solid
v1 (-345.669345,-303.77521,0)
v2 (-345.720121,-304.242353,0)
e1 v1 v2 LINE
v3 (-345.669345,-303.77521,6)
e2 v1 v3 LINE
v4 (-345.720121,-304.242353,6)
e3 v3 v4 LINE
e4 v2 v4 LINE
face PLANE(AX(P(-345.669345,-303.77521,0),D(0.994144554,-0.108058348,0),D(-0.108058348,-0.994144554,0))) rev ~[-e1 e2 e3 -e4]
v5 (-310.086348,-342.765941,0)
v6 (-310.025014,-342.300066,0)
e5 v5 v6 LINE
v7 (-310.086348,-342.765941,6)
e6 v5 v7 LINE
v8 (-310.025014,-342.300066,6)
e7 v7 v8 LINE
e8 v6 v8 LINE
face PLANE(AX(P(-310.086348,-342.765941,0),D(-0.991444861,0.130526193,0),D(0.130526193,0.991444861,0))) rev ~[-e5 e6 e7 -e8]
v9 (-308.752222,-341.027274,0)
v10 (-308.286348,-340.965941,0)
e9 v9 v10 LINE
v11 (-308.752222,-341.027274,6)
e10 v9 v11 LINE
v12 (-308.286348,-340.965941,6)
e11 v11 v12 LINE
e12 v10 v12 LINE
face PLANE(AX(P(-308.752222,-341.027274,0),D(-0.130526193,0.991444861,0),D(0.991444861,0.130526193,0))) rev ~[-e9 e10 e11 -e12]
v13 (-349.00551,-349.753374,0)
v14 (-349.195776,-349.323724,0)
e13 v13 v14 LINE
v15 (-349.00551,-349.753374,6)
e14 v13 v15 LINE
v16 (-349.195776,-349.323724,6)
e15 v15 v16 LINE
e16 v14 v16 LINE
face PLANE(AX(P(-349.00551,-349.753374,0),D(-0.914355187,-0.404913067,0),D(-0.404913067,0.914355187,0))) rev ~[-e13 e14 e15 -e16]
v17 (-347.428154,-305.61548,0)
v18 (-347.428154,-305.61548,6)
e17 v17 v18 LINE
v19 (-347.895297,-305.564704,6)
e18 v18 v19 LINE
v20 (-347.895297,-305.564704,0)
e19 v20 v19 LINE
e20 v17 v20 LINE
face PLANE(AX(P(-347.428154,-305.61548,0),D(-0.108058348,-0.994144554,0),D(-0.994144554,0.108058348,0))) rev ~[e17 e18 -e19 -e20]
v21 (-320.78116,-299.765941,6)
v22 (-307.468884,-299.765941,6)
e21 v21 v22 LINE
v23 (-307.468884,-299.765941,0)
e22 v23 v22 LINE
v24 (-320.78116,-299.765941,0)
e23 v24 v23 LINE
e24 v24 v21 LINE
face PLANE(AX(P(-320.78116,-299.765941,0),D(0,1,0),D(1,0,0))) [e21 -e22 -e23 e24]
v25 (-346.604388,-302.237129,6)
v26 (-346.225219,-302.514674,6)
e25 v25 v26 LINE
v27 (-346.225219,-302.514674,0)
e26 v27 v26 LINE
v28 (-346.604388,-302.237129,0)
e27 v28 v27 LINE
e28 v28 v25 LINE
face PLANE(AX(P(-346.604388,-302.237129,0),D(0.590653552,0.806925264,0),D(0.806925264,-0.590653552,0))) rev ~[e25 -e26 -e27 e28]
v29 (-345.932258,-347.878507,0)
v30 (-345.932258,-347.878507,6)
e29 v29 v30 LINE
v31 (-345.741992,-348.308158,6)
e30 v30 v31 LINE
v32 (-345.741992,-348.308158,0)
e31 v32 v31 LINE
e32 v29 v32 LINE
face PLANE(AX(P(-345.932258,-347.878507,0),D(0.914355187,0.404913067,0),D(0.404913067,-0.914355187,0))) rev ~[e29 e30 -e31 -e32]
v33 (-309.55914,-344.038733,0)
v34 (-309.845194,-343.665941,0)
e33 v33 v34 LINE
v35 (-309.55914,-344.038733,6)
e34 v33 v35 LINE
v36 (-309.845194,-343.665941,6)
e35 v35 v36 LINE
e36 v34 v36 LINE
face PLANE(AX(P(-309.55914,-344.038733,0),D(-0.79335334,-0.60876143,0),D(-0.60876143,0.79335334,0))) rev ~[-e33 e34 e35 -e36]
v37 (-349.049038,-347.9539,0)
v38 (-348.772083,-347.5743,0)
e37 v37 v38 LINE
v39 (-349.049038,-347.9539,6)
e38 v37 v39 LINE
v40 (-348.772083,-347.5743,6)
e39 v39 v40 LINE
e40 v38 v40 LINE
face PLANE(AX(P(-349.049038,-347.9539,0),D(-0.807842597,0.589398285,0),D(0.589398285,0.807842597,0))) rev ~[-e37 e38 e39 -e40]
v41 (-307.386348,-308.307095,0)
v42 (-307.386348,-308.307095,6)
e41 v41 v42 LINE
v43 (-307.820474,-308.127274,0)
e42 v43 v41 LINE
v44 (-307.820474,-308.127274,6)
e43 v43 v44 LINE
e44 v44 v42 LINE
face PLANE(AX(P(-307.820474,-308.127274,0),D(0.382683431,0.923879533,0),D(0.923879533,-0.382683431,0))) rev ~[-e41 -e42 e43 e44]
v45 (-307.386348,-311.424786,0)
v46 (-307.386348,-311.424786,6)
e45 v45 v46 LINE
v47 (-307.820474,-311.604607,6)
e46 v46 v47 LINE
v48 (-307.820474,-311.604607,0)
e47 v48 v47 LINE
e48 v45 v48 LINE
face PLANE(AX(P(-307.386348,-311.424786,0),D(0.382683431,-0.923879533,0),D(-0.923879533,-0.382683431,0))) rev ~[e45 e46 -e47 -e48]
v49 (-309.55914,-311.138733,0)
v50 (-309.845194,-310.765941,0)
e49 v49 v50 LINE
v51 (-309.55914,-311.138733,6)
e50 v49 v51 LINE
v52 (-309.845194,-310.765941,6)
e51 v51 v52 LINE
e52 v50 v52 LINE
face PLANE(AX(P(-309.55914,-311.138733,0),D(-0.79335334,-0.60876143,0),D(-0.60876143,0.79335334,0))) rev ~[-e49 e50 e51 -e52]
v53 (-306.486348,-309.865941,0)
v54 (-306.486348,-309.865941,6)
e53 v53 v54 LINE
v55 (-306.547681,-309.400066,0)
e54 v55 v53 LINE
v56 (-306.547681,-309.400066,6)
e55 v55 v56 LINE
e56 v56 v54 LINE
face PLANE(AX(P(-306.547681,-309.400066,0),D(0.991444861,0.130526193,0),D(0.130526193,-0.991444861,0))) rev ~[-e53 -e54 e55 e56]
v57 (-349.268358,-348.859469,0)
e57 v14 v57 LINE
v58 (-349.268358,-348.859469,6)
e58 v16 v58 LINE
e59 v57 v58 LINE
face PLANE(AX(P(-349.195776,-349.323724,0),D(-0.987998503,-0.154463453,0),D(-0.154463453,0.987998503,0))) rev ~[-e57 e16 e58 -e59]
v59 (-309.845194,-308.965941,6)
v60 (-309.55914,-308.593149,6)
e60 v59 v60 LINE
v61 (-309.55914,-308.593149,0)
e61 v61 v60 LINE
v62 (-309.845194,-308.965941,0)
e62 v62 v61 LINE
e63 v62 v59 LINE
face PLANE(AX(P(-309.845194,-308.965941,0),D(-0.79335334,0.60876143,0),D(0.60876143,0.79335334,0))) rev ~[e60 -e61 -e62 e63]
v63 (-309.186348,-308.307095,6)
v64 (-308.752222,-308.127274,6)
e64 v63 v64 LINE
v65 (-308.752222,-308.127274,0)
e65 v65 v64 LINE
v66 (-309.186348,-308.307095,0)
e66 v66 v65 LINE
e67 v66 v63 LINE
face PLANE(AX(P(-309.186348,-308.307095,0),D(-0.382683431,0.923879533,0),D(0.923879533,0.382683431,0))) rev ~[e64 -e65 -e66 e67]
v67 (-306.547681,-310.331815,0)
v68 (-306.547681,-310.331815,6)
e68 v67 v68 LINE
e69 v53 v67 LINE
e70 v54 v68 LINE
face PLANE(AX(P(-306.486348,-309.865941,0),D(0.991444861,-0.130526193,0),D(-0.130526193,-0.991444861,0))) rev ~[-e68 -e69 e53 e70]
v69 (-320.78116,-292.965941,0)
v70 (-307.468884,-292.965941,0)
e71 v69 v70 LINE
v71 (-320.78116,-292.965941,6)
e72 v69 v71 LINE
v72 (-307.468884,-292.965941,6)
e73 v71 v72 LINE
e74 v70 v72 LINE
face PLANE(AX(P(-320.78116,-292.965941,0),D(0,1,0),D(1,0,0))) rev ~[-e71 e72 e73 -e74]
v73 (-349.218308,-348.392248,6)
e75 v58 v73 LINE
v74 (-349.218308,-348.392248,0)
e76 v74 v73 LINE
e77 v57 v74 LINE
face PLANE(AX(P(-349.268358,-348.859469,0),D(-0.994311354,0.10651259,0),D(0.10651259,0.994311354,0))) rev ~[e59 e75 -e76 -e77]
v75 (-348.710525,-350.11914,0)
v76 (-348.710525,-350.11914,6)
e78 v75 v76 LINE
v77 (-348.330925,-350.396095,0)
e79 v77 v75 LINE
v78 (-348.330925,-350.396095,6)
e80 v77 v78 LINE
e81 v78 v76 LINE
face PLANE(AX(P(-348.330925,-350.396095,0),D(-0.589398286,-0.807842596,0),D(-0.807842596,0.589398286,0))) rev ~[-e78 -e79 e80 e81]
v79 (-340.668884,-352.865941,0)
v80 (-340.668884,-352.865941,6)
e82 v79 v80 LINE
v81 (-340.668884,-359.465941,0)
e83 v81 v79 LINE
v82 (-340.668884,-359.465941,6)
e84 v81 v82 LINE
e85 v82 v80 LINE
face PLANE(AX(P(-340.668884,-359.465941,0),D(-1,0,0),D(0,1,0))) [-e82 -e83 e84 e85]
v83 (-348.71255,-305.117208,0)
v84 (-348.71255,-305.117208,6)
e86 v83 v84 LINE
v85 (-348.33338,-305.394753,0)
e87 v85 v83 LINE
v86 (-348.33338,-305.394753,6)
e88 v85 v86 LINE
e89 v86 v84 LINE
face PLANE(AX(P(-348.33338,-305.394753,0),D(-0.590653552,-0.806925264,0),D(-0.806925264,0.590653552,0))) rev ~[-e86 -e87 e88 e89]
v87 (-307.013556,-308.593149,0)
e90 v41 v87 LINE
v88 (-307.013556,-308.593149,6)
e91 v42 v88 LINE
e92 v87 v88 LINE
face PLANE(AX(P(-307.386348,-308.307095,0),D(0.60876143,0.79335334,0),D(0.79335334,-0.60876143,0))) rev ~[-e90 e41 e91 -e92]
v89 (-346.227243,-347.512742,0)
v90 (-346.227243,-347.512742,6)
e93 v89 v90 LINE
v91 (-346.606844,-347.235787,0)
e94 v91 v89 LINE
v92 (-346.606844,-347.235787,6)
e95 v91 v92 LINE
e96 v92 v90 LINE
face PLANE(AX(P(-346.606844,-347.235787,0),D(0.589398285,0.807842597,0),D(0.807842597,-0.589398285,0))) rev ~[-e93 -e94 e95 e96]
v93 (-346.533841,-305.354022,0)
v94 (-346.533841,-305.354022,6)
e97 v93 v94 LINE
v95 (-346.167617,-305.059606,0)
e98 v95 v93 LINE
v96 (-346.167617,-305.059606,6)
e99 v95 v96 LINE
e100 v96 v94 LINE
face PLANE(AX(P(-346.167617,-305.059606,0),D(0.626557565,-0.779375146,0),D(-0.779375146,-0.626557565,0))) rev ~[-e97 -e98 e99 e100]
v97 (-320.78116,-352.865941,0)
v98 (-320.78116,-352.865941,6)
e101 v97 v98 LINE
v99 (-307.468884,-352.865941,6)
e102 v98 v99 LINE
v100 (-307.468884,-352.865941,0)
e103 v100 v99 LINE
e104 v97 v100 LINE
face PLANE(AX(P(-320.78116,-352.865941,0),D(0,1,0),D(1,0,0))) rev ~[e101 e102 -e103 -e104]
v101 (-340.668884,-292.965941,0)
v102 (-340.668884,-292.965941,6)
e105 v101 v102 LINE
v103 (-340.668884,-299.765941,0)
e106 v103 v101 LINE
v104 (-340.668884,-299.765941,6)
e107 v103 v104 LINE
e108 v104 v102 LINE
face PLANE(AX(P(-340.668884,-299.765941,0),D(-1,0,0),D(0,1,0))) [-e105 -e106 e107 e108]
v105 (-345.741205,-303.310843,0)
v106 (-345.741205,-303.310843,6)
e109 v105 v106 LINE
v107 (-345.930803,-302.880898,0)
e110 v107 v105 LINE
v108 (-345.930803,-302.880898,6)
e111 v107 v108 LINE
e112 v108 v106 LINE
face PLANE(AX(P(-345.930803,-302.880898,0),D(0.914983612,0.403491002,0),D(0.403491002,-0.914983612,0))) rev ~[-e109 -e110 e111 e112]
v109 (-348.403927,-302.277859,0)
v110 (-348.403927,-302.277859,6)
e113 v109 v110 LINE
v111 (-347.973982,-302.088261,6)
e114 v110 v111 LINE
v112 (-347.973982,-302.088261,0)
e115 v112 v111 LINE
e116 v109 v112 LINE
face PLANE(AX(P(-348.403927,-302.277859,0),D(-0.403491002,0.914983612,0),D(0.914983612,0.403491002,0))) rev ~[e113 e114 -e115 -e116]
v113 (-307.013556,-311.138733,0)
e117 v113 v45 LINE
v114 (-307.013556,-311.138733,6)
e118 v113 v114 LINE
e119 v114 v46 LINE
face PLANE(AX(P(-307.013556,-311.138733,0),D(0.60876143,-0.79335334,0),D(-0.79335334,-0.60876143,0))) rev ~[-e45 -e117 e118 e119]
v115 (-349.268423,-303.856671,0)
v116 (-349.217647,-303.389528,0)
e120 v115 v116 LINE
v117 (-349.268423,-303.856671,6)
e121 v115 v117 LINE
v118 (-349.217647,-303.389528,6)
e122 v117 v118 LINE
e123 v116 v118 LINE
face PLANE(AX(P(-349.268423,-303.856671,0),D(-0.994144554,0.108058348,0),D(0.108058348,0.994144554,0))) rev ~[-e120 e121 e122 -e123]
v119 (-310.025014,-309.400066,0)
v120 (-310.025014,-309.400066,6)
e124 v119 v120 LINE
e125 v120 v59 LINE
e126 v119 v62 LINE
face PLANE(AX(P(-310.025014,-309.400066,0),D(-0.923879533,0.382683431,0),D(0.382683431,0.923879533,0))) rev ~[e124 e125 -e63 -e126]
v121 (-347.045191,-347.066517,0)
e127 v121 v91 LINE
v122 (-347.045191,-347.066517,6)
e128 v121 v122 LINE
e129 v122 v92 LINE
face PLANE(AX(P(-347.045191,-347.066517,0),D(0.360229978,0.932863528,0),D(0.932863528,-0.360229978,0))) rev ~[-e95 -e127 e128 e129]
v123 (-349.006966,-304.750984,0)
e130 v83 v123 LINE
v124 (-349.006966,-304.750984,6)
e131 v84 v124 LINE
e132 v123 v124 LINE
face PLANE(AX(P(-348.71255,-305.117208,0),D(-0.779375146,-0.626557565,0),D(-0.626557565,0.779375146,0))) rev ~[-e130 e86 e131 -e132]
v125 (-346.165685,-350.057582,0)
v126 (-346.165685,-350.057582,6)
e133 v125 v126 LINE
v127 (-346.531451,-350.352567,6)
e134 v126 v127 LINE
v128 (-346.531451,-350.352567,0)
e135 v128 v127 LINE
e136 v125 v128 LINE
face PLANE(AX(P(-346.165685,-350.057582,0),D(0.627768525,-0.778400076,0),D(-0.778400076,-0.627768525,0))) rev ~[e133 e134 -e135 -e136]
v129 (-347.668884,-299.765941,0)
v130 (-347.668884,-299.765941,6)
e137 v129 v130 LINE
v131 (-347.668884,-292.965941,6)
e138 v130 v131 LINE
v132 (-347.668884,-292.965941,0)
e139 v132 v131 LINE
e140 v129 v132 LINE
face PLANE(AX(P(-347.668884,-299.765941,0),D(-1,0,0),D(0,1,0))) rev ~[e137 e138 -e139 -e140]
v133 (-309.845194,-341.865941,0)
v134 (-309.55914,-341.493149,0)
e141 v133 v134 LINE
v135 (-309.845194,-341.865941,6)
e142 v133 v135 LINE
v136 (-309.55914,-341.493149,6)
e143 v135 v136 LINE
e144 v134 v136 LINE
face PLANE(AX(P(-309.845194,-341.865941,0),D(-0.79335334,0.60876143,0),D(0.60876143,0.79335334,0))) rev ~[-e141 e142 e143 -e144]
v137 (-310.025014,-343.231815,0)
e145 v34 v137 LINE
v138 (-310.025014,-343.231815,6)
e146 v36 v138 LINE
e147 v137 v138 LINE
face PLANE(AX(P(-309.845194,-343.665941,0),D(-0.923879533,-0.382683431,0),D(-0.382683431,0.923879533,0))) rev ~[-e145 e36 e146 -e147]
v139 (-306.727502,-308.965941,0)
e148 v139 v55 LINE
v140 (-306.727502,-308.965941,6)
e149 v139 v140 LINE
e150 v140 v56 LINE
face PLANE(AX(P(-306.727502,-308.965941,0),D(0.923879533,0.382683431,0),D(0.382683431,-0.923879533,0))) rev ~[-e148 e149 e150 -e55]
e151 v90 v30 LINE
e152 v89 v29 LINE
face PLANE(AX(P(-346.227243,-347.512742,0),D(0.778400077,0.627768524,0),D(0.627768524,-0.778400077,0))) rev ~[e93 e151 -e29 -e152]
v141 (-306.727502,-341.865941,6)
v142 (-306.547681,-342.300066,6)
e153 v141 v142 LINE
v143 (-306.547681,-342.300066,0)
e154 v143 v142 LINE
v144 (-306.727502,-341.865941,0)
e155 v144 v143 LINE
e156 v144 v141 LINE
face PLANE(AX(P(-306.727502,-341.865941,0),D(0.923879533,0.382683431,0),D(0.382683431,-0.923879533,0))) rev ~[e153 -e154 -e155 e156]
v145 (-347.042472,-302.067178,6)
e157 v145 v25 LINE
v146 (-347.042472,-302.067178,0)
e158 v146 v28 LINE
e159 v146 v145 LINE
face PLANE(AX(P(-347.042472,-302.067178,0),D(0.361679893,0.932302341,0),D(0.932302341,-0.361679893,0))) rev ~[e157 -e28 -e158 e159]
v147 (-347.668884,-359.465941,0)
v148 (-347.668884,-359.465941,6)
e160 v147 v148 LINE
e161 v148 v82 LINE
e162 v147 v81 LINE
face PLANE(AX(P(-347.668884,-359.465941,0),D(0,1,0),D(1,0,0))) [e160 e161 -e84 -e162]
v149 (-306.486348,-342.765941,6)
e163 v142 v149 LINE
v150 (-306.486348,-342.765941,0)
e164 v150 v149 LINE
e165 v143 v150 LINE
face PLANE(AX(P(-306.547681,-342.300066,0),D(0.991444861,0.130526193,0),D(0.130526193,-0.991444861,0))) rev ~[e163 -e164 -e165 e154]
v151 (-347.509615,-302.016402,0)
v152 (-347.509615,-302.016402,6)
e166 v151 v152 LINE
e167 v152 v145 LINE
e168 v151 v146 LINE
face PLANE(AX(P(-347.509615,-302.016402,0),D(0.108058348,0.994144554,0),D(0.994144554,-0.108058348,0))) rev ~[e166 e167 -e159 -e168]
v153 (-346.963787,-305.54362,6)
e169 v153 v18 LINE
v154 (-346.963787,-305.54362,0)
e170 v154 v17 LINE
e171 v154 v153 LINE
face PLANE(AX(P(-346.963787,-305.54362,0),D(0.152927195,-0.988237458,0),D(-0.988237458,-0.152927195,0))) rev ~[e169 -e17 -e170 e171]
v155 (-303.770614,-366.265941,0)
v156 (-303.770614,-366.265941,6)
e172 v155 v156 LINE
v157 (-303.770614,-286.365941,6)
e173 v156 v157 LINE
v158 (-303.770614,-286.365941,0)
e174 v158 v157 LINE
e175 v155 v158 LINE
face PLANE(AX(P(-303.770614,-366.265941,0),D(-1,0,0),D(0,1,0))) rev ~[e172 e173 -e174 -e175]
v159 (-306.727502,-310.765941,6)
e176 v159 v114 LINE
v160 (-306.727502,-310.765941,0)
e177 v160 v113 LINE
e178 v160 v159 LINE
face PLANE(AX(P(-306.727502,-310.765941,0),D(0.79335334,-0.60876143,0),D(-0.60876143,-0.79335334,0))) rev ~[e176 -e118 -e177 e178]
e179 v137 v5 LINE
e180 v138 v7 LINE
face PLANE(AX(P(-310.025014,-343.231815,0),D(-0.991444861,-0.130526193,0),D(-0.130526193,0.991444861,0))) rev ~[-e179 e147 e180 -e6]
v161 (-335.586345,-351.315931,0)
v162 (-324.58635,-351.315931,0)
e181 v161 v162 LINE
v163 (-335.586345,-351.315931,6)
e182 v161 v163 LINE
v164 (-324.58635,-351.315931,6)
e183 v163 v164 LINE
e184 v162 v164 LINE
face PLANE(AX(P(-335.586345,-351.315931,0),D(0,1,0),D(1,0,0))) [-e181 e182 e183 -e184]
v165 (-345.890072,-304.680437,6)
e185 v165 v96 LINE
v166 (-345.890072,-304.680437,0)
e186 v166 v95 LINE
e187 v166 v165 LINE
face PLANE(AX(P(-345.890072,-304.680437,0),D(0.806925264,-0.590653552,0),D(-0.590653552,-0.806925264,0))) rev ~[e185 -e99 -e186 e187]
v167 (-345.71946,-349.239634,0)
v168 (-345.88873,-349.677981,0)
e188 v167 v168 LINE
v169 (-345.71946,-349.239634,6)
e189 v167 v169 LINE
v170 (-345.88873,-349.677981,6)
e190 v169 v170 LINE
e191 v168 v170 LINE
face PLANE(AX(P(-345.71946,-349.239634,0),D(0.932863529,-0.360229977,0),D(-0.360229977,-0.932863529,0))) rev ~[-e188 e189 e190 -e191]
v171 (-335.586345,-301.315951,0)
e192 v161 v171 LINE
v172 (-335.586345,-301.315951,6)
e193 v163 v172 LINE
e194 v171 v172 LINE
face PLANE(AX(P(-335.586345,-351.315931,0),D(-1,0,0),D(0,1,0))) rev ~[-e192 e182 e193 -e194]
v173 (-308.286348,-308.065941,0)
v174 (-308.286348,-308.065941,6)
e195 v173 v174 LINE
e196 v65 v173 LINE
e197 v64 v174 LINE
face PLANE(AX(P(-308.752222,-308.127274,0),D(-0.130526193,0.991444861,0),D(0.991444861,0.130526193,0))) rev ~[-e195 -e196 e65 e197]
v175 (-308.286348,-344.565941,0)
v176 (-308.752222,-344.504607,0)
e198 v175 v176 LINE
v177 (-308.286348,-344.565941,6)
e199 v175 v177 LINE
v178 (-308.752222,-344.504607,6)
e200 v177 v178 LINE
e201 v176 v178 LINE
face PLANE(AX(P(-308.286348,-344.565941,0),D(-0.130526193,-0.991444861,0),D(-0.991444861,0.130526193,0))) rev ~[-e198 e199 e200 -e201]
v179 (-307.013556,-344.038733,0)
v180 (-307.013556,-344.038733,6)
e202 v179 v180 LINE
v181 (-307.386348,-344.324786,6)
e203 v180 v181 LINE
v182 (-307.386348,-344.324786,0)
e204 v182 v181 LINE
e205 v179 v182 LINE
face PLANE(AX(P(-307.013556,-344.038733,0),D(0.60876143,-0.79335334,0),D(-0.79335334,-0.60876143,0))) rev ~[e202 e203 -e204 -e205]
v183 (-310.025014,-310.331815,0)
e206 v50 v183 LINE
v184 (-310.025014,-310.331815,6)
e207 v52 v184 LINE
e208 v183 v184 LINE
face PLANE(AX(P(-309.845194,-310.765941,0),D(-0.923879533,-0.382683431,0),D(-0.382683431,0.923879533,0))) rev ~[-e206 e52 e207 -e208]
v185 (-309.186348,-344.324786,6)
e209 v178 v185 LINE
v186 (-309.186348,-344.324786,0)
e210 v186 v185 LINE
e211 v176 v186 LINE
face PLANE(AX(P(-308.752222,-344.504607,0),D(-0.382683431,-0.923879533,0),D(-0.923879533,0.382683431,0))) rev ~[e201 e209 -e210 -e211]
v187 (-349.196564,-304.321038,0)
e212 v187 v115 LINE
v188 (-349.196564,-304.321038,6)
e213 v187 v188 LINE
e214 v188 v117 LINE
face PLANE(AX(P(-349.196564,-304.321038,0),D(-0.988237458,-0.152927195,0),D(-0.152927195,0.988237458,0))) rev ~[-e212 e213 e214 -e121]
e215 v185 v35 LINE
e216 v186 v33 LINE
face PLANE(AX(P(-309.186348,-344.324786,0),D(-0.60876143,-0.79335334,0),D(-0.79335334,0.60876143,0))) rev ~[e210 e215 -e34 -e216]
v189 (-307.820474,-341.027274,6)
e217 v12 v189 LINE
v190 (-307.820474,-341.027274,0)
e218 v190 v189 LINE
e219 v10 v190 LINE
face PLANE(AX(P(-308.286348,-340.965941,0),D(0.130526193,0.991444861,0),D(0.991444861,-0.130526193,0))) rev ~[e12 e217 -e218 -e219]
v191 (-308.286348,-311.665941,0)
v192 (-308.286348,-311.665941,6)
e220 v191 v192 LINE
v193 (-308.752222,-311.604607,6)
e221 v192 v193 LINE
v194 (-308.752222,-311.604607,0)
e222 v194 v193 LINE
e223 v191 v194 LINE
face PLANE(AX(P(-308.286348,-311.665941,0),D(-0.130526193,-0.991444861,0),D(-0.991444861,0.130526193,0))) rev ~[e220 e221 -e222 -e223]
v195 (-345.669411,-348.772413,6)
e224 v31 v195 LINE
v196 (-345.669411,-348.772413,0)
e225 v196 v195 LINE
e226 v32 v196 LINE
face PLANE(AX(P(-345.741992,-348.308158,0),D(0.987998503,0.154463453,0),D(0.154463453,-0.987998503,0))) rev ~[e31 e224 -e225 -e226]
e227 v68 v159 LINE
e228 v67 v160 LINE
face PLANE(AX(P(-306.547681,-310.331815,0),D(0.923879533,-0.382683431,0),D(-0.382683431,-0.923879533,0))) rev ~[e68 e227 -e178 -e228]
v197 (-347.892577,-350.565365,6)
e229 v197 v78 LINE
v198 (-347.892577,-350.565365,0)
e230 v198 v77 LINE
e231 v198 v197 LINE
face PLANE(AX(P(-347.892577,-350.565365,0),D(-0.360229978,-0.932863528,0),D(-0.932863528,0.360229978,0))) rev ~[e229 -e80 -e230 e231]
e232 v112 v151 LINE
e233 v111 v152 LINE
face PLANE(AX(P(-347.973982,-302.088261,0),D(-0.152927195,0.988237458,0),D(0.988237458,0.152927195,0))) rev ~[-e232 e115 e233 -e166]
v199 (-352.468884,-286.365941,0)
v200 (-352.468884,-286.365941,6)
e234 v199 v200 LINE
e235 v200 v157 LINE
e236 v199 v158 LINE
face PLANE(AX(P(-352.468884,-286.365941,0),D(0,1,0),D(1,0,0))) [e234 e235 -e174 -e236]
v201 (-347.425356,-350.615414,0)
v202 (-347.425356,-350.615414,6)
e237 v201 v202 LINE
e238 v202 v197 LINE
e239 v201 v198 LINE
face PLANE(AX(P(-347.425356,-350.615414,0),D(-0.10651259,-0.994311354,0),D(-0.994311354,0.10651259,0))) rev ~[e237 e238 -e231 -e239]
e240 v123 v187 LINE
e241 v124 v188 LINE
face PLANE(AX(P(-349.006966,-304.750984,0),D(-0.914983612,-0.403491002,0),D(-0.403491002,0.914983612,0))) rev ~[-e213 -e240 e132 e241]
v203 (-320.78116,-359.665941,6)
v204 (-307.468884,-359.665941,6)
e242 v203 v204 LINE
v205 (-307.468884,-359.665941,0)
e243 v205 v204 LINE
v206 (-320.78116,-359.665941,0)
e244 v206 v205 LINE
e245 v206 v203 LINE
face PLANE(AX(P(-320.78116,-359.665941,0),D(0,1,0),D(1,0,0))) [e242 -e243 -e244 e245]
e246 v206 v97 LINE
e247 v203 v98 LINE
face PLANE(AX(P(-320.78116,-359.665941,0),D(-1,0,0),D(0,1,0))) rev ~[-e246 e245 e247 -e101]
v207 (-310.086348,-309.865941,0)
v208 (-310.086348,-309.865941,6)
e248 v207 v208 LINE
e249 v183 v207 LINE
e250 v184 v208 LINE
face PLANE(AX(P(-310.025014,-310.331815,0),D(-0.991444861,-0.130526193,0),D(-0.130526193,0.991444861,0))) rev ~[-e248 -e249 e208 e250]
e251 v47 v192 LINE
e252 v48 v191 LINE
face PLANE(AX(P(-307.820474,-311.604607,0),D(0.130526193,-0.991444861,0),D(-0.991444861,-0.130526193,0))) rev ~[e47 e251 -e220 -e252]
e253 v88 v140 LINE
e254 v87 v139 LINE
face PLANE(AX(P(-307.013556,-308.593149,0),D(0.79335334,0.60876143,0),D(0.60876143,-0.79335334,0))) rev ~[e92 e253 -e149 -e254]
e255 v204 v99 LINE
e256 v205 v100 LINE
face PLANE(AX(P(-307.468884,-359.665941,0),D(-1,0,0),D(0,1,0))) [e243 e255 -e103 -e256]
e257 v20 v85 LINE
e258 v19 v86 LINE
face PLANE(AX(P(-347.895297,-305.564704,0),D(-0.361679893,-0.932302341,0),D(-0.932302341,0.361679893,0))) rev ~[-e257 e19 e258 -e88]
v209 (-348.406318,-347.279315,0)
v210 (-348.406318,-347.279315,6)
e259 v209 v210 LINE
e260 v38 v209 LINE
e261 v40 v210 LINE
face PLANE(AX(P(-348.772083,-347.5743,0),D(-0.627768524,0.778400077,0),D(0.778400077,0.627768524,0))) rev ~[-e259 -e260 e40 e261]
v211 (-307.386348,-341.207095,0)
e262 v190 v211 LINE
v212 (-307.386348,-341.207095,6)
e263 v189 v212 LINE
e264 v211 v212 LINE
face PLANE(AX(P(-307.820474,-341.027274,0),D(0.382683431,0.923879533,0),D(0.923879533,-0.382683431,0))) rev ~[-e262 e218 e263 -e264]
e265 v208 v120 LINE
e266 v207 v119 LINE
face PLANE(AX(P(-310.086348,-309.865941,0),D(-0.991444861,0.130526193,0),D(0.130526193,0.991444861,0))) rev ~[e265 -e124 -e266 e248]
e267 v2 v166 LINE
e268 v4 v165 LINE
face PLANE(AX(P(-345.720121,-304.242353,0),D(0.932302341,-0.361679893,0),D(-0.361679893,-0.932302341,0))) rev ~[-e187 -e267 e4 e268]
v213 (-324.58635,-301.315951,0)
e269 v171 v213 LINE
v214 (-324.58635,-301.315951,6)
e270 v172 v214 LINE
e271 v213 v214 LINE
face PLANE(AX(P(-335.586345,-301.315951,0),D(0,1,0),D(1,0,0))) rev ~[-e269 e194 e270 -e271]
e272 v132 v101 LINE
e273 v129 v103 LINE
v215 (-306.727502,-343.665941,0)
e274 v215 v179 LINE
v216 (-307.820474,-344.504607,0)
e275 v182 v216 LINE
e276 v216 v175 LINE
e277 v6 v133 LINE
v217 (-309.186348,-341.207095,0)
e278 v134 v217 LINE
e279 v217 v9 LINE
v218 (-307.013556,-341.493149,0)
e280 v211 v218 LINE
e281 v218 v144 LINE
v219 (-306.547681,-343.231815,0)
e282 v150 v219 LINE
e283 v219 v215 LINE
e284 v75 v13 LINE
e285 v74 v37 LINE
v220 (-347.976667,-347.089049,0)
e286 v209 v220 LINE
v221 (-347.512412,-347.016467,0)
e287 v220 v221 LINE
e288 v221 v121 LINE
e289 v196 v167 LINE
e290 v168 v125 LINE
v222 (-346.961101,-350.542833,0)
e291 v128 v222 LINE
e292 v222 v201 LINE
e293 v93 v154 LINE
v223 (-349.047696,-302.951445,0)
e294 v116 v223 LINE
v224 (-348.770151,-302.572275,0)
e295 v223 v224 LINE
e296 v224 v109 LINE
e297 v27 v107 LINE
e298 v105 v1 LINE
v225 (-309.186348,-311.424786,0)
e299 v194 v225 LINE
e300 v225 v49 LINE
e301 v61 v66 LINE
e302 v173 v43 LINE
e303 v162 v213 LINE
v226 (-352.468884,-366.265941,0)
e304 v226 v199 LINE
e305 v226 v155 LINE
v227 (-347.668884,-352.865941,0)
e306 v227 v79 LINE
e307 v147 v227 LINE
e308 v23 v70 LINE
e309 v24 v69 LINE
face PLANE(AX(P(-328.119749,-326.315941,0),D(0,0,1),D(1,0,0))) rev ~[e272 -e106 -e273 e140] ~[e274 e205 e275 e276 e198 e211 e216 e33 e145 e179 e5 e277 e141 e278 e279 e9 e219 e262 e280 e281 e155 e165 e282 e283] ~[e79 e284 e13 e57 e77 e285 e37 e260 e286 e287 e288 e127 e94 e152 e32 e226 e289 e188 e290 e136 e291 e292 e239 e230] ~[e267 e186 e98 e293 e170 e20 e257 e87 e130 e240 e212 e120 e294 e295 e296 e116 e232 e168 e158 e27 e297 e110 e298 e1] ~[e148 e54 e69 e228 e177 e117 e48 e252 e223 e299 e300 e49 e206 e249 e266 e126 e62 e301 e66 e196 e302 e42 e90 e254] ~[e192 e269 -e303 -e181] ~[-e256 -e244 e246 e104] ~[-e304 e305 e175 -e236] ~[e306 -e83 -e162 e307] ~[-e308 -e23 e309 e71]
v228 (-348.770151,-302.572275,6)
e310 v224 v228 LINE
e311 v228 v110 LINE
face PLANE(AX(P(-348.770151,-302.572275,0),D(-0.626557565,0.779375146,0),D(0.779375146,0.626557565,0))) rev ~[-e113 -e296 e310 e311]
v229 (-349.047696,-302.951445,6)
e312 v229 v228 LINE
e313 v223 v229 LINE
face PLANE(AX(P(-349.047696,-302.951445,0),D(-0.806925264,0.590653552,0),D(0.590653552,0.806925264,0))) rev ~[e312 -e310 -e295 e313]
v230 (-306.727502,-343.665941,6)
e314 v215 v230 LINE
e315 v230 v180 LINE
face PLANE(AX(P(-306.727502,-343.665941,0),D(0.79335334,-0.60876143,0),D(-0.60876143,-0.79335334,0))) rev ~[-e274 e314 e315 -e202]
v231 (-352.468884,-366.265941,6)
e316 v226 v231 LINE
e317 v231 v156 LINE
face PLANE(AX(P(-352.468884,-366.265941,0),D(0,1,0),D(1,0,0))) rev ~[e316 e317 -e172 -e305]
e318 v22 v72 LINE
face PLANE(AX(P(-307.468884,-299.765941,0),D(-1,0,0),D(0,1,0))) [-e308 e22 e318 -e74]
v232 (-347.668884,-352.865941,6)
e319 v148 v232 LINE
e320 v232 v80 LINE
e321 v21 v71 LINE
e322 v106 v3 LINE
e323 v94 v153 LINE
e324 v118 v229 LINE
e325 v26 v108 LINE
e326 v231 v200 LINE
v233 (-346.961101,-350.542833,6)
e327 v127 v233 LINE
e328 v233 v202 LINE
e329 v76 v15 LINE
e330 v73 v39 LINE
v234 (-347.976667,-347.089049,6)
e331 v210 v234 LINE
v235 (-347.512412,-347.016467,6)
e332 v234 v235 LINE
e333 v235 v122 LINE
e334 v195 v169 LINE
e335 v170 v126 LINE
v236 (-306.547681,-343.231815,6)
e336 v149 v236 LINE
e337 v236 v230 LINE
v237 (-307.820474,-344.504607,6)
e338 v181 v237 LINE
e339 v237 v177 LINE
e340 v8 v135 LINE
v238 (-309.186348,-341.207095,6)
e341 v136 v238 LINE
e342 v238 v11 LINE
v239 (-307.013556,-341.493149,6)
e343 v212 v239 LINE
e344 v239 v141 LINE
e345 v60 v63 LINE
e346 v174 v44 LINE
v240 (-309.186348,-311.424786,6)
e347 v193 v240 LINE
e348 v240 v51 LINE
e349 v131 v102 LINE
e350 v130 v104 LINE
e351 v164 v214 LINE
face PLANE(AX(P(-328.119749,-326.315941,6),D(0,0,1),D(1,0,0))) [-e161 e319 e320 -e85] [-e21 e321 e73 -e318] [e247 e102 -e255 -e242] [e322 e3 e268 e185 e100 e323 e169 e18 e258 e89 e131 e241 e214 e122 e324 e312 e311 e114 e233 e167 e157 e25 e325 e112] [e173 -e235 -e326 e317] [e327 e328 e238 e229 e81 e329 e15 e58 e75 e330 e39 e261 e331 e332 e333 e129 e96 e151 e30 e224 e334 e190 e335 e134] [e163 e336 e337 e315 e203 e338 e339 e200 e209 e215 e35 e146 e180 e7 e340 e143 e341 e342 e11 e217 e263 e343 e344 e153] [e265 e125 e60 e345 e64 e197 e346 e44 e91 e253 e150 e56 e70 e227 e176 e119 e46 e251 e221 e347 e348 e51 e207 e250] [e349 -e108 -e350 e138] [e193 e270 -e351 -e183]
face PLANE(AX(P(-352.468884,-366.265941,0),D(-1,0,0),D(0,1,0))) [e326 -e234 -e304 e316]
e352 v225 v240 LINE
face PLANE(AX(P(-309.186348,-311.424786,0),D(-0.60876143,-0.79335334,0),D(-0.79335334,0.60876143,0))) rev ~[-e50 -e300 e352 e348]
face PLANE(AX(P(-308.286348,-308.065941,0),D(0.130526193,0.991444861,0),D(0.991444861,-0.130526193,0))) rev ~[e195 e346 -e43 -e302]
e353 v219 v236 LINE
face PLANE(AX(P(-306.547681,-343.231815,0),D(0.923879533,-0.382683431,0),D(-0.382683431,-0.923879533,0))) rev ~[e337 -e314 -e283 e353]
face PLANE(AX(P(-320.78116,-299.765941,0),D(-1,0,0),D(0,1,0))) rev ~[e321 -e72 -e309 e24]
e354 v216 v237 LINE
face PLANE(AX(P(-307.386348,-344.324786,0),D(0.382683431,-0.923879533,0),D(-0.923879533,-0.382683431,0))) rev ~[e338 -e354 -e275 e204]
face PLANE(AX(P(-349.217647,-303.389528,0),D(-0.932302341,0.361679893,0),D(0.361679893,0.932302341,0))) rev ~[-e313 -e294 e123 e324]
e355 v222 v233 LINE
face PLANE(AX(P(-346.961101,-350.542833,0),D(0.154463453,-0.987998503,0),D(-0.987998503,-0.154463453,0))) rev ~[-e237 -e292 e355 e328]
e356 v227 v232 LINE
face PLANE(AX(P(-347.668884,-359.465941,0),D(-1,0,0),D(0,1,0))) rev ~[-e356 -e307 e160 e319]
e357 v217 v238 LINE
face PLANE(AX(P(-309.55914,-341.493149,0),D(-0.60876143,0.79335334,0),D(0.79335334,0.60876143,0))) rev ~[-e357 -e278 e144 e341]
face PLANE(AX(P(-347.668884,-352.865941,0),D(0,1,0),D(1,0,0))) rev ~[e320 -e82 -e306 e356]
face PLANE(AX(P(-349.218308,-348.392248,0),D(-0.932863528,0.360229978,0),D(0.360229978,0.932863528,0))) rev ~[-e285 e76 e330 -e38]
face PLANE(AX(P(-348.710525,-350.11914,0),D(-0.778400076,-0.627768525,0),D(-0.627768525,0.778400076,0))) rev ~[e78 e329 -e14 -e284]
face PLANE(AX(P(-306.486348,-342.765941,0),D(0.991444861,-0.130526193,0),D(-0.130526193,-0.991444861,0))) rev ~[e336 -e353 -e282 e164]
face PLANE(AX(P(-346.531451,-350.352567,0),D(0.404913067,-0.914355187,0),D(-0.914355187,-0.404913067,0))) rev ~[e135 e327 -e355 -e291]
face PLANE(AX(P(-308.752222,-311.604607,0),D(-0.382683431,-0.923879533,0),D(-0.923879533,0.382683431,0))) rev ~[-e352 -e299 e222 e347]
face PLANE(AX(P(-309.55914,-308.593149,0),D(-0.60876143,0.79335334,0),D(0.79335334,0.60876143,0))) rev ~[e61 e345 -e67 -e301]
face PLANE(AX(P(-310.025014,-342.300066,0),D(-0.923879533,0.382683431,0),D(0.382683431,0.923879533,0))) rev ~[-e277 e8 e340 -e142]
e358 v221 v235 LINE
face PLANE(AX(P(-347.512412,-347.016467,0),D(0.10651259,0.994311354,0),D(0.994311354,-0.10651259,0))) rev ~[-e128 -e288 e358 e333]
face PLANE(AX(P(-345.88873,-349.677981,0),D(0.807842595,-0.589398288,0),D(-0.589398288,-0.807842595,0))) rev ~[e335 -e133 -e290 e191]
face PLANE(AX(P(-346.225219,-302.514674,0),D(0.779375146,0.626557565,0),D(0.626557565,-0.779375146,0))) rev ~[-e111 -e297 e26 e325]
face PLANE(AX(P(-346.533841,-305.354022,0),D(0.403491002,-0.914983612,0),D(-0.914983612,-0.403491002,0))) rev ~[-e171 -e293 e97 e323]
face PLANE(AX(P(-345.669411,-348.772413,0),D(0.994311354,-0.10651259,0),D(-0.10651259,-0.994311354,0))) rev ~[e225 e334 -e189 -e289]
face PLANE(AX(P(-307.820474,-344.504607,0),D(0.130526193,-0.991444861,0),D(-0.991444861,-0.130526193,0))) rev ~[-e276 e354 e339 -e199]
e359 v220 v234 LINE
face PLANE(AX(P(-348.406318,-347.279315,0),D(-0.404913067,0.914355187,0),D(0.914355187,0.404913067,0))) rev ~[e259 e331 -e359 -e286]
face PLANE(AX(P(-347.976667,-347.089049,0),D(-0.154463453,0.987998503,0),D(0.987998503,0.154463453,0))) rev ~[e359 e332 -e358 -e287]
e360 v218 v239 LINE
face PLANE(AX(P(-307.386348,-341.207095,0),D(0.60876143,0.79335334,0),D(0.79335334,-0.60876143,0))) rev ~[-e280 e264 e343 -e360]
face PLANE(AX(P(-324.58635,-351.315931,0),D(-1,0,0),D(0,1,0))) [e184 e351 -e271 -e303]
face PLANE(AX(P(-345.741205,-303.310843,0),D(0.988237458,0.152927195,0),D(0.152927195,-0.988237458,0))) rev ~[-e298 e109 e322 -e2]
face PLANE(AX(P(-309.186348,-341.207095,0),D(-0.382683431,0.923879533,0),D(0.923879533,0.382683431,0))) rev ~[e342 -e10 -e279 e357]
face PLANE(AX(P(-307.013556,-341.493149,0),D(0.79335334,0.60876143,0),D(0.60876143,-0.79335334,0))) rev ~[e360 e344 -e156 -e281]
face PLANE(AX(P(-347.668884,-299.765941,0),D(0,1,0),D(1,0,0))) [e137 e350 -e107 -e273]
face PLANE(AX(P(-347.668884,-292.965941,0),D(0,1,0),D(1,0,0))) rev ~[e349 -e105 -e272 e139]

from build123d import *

# Parameters (mm, degrees)
SKETCH1_W           = 48.698269881
SKETCH1_H           = 79.9
SKETCH1_W_2         = 13.312275424
SKETCH1_H_2         = 6.8
SKETCH1_W_3         = 7
SKETCH1_H_3         = 6.6
SKETCH1_W_4         = 10.999995004
SKETCH1_H_4         = 49.999979698
BOSS_EXTRUDE1_DEPTH = 6


with BuildPart() as part:
    # Sketch1 → Boss-Extrude1 (new body)
    with BuildSketch(Plane.XY):
        with Locations((-328.119749272, -326.315940756)):
            Rectangle(SKETCH1_W, SKETCH1_H)
        Polygon((-306.547681314, -310.331815037), (-306.727502074, -310.765940756), (-307.013555595, -311.138732962), (-307.386347801, -311.424786483), (-307.82047352, -311.604607243), (-308.286347801, -311.665940756), (-308.752222082, -311.604607243), (-309.186347801, -311.424786483), (-309.559140007, -311.138732962), (-309.845193528, -310.765940756), (-310.025014288, -310.331815037), (-310.086347801, -309.865940756), (-310.025014288, -309.400066475), (-309.845193528, -308.965940756), (-309.559140007, -308.59314855), (-309.186347801, -308.307095029), (-308.752222082, -308.127274269), (-308.286347801, -308.065940756), (-307.82047352, -308.127274269), (-307.386347801, -308.307095029), (-307.013555595, -308.59314855), (-306.727502074, -308.965940756), (-306.547681314, -309.400066475), (-306.486347801, -309.865940756), align=None, mode=Mode.SUBTRACT)
        with Locations((-314.125021924, -356.265940756)):
            Rectangle(SKETCH1_W_2, SKETCH1_H_2, mode=Mode.SUBTRACT)
        with Locations((-344.168884212, -356.165940756)):
            Rectangle(SKETCH1_W_3, SKETCH1_H_3, mode=Mode.SUBTRACT)
        with Locations((-314.125021924, -296.365940756)):
            Rectangle(SKETCH1_W_2, SKETCH1_H_2, mode=Mode.SUBTRACT)
        Polygon((-349.005509995, -349.753374061), (-349.195776334, -349.323723778), (-349.268357829, -348.859468921), (-349.218308171, -348.392247692), (-349.04903816, -347.953900444), (-348.77208327, -347.574299819), (-348.406317517, -347.279314973), (-347.976667234, -347.089048634), (-347.512412377, -347.016467139), (-347.045191148, -347.066516797), (-346.6068439, -347.235786808), (-346.227243275, -347.512741698), (-345.932258429, -347.878507451), (-345.74199209, -348.308157734), (-345.669410595, -348.772412591), (-345.719460253, -349.23963382), (-345.888730263, -349.677981068), (-346.165685154, -350.057581692), (-346.531450907, -350.352566539), (-346.96110119, -350.542832878), (-347.425356047, -350.615414373), (-347.892577276, -350.565364715), (-348.330924524, -350.396094704), (-348.710525148, -350.119139814), align=None, mode=Mode.SUBTRACT)
        Polygon((-307.013555595, -341.49314855), (-306.727502074, -341.865940756), (-306.547681314, -342.300066475), (-306.486347801, -342.765940756), (-306.547681314, -343.231815037), (-306.727502074, -343.665940756), (-307.013555595, -344.038732962), (-307.386347801, -344.324786483), (-307.82047352, -344.504607243), (-308.286347801, -344.565940756), (-308.752222082, -344.504607243), (-309.186347801, -344.324786483), (-309.559140007, -344.038732962), (-309.845193528, -343.665940756), (-310.025014288, -343.231815037), (-310.086347801, -342.765940756), (-310.025014288, -342.300066475), (-309.845193528, -341.865940756), (-309.559140007, -341.49314855), (-309.186347801, -341.207095029), (-308.752222082, -341.027274269), (-308.286347801, -340.965940756), (-307.82047352, -341.027274269), (-307.386347801, -341.207095029), align=None, mode=Mode.SUBTRACT)
        Polygon((-347.042471777, -302.06717764), (-346.604388229, -302.237128957), (-346.225218653, -302.51467369), (-345.93080283, -302.880897622), (-345.741204711, -303.310843199), (-345.669345095, -303.77521034), (-345.720121096, -304.242353191), (-345.890072413, -304.680436739), (-346.167617146, -305.059606315), (-346.533841078, -305.354022138), (-346.963786655, -305.543620257), (-347.428153795, -305.615479873), (-347.895296647, -305.564703872), (-348.333380195, -305.394752555), (-348.712549771, -305.117207822), (-349.006965594, -304.75098389), (-349.196563713, -304.321038313), (-349.268423329, -303.856671172), (-349.217647328, -303.389528321), (-349.047696011, -302.951444773), (-348.770151278, -302.572275197), (-348.403927346, -302.277859374), (-347.973981769, -302.088261255), (-347.509614628, -302.016401639), align=None, mode=Mode.SUBTRACT)
        with Locations((-344.168884212, -296.365940756)):
            Rectangle(SKETCH1_W_3, SKETCH1_H_2, mode=Mode.SUBTRACT)
        with Locations((-330.086347801, -326.315940756)):
            Rectangle(SKETCH1_W_4, SKETCH1_H_4, mode=Mode.SUBTRACT)
    extrude(amount=BOSS_EXTRUDE1_DEPTH)


solid = part.part
